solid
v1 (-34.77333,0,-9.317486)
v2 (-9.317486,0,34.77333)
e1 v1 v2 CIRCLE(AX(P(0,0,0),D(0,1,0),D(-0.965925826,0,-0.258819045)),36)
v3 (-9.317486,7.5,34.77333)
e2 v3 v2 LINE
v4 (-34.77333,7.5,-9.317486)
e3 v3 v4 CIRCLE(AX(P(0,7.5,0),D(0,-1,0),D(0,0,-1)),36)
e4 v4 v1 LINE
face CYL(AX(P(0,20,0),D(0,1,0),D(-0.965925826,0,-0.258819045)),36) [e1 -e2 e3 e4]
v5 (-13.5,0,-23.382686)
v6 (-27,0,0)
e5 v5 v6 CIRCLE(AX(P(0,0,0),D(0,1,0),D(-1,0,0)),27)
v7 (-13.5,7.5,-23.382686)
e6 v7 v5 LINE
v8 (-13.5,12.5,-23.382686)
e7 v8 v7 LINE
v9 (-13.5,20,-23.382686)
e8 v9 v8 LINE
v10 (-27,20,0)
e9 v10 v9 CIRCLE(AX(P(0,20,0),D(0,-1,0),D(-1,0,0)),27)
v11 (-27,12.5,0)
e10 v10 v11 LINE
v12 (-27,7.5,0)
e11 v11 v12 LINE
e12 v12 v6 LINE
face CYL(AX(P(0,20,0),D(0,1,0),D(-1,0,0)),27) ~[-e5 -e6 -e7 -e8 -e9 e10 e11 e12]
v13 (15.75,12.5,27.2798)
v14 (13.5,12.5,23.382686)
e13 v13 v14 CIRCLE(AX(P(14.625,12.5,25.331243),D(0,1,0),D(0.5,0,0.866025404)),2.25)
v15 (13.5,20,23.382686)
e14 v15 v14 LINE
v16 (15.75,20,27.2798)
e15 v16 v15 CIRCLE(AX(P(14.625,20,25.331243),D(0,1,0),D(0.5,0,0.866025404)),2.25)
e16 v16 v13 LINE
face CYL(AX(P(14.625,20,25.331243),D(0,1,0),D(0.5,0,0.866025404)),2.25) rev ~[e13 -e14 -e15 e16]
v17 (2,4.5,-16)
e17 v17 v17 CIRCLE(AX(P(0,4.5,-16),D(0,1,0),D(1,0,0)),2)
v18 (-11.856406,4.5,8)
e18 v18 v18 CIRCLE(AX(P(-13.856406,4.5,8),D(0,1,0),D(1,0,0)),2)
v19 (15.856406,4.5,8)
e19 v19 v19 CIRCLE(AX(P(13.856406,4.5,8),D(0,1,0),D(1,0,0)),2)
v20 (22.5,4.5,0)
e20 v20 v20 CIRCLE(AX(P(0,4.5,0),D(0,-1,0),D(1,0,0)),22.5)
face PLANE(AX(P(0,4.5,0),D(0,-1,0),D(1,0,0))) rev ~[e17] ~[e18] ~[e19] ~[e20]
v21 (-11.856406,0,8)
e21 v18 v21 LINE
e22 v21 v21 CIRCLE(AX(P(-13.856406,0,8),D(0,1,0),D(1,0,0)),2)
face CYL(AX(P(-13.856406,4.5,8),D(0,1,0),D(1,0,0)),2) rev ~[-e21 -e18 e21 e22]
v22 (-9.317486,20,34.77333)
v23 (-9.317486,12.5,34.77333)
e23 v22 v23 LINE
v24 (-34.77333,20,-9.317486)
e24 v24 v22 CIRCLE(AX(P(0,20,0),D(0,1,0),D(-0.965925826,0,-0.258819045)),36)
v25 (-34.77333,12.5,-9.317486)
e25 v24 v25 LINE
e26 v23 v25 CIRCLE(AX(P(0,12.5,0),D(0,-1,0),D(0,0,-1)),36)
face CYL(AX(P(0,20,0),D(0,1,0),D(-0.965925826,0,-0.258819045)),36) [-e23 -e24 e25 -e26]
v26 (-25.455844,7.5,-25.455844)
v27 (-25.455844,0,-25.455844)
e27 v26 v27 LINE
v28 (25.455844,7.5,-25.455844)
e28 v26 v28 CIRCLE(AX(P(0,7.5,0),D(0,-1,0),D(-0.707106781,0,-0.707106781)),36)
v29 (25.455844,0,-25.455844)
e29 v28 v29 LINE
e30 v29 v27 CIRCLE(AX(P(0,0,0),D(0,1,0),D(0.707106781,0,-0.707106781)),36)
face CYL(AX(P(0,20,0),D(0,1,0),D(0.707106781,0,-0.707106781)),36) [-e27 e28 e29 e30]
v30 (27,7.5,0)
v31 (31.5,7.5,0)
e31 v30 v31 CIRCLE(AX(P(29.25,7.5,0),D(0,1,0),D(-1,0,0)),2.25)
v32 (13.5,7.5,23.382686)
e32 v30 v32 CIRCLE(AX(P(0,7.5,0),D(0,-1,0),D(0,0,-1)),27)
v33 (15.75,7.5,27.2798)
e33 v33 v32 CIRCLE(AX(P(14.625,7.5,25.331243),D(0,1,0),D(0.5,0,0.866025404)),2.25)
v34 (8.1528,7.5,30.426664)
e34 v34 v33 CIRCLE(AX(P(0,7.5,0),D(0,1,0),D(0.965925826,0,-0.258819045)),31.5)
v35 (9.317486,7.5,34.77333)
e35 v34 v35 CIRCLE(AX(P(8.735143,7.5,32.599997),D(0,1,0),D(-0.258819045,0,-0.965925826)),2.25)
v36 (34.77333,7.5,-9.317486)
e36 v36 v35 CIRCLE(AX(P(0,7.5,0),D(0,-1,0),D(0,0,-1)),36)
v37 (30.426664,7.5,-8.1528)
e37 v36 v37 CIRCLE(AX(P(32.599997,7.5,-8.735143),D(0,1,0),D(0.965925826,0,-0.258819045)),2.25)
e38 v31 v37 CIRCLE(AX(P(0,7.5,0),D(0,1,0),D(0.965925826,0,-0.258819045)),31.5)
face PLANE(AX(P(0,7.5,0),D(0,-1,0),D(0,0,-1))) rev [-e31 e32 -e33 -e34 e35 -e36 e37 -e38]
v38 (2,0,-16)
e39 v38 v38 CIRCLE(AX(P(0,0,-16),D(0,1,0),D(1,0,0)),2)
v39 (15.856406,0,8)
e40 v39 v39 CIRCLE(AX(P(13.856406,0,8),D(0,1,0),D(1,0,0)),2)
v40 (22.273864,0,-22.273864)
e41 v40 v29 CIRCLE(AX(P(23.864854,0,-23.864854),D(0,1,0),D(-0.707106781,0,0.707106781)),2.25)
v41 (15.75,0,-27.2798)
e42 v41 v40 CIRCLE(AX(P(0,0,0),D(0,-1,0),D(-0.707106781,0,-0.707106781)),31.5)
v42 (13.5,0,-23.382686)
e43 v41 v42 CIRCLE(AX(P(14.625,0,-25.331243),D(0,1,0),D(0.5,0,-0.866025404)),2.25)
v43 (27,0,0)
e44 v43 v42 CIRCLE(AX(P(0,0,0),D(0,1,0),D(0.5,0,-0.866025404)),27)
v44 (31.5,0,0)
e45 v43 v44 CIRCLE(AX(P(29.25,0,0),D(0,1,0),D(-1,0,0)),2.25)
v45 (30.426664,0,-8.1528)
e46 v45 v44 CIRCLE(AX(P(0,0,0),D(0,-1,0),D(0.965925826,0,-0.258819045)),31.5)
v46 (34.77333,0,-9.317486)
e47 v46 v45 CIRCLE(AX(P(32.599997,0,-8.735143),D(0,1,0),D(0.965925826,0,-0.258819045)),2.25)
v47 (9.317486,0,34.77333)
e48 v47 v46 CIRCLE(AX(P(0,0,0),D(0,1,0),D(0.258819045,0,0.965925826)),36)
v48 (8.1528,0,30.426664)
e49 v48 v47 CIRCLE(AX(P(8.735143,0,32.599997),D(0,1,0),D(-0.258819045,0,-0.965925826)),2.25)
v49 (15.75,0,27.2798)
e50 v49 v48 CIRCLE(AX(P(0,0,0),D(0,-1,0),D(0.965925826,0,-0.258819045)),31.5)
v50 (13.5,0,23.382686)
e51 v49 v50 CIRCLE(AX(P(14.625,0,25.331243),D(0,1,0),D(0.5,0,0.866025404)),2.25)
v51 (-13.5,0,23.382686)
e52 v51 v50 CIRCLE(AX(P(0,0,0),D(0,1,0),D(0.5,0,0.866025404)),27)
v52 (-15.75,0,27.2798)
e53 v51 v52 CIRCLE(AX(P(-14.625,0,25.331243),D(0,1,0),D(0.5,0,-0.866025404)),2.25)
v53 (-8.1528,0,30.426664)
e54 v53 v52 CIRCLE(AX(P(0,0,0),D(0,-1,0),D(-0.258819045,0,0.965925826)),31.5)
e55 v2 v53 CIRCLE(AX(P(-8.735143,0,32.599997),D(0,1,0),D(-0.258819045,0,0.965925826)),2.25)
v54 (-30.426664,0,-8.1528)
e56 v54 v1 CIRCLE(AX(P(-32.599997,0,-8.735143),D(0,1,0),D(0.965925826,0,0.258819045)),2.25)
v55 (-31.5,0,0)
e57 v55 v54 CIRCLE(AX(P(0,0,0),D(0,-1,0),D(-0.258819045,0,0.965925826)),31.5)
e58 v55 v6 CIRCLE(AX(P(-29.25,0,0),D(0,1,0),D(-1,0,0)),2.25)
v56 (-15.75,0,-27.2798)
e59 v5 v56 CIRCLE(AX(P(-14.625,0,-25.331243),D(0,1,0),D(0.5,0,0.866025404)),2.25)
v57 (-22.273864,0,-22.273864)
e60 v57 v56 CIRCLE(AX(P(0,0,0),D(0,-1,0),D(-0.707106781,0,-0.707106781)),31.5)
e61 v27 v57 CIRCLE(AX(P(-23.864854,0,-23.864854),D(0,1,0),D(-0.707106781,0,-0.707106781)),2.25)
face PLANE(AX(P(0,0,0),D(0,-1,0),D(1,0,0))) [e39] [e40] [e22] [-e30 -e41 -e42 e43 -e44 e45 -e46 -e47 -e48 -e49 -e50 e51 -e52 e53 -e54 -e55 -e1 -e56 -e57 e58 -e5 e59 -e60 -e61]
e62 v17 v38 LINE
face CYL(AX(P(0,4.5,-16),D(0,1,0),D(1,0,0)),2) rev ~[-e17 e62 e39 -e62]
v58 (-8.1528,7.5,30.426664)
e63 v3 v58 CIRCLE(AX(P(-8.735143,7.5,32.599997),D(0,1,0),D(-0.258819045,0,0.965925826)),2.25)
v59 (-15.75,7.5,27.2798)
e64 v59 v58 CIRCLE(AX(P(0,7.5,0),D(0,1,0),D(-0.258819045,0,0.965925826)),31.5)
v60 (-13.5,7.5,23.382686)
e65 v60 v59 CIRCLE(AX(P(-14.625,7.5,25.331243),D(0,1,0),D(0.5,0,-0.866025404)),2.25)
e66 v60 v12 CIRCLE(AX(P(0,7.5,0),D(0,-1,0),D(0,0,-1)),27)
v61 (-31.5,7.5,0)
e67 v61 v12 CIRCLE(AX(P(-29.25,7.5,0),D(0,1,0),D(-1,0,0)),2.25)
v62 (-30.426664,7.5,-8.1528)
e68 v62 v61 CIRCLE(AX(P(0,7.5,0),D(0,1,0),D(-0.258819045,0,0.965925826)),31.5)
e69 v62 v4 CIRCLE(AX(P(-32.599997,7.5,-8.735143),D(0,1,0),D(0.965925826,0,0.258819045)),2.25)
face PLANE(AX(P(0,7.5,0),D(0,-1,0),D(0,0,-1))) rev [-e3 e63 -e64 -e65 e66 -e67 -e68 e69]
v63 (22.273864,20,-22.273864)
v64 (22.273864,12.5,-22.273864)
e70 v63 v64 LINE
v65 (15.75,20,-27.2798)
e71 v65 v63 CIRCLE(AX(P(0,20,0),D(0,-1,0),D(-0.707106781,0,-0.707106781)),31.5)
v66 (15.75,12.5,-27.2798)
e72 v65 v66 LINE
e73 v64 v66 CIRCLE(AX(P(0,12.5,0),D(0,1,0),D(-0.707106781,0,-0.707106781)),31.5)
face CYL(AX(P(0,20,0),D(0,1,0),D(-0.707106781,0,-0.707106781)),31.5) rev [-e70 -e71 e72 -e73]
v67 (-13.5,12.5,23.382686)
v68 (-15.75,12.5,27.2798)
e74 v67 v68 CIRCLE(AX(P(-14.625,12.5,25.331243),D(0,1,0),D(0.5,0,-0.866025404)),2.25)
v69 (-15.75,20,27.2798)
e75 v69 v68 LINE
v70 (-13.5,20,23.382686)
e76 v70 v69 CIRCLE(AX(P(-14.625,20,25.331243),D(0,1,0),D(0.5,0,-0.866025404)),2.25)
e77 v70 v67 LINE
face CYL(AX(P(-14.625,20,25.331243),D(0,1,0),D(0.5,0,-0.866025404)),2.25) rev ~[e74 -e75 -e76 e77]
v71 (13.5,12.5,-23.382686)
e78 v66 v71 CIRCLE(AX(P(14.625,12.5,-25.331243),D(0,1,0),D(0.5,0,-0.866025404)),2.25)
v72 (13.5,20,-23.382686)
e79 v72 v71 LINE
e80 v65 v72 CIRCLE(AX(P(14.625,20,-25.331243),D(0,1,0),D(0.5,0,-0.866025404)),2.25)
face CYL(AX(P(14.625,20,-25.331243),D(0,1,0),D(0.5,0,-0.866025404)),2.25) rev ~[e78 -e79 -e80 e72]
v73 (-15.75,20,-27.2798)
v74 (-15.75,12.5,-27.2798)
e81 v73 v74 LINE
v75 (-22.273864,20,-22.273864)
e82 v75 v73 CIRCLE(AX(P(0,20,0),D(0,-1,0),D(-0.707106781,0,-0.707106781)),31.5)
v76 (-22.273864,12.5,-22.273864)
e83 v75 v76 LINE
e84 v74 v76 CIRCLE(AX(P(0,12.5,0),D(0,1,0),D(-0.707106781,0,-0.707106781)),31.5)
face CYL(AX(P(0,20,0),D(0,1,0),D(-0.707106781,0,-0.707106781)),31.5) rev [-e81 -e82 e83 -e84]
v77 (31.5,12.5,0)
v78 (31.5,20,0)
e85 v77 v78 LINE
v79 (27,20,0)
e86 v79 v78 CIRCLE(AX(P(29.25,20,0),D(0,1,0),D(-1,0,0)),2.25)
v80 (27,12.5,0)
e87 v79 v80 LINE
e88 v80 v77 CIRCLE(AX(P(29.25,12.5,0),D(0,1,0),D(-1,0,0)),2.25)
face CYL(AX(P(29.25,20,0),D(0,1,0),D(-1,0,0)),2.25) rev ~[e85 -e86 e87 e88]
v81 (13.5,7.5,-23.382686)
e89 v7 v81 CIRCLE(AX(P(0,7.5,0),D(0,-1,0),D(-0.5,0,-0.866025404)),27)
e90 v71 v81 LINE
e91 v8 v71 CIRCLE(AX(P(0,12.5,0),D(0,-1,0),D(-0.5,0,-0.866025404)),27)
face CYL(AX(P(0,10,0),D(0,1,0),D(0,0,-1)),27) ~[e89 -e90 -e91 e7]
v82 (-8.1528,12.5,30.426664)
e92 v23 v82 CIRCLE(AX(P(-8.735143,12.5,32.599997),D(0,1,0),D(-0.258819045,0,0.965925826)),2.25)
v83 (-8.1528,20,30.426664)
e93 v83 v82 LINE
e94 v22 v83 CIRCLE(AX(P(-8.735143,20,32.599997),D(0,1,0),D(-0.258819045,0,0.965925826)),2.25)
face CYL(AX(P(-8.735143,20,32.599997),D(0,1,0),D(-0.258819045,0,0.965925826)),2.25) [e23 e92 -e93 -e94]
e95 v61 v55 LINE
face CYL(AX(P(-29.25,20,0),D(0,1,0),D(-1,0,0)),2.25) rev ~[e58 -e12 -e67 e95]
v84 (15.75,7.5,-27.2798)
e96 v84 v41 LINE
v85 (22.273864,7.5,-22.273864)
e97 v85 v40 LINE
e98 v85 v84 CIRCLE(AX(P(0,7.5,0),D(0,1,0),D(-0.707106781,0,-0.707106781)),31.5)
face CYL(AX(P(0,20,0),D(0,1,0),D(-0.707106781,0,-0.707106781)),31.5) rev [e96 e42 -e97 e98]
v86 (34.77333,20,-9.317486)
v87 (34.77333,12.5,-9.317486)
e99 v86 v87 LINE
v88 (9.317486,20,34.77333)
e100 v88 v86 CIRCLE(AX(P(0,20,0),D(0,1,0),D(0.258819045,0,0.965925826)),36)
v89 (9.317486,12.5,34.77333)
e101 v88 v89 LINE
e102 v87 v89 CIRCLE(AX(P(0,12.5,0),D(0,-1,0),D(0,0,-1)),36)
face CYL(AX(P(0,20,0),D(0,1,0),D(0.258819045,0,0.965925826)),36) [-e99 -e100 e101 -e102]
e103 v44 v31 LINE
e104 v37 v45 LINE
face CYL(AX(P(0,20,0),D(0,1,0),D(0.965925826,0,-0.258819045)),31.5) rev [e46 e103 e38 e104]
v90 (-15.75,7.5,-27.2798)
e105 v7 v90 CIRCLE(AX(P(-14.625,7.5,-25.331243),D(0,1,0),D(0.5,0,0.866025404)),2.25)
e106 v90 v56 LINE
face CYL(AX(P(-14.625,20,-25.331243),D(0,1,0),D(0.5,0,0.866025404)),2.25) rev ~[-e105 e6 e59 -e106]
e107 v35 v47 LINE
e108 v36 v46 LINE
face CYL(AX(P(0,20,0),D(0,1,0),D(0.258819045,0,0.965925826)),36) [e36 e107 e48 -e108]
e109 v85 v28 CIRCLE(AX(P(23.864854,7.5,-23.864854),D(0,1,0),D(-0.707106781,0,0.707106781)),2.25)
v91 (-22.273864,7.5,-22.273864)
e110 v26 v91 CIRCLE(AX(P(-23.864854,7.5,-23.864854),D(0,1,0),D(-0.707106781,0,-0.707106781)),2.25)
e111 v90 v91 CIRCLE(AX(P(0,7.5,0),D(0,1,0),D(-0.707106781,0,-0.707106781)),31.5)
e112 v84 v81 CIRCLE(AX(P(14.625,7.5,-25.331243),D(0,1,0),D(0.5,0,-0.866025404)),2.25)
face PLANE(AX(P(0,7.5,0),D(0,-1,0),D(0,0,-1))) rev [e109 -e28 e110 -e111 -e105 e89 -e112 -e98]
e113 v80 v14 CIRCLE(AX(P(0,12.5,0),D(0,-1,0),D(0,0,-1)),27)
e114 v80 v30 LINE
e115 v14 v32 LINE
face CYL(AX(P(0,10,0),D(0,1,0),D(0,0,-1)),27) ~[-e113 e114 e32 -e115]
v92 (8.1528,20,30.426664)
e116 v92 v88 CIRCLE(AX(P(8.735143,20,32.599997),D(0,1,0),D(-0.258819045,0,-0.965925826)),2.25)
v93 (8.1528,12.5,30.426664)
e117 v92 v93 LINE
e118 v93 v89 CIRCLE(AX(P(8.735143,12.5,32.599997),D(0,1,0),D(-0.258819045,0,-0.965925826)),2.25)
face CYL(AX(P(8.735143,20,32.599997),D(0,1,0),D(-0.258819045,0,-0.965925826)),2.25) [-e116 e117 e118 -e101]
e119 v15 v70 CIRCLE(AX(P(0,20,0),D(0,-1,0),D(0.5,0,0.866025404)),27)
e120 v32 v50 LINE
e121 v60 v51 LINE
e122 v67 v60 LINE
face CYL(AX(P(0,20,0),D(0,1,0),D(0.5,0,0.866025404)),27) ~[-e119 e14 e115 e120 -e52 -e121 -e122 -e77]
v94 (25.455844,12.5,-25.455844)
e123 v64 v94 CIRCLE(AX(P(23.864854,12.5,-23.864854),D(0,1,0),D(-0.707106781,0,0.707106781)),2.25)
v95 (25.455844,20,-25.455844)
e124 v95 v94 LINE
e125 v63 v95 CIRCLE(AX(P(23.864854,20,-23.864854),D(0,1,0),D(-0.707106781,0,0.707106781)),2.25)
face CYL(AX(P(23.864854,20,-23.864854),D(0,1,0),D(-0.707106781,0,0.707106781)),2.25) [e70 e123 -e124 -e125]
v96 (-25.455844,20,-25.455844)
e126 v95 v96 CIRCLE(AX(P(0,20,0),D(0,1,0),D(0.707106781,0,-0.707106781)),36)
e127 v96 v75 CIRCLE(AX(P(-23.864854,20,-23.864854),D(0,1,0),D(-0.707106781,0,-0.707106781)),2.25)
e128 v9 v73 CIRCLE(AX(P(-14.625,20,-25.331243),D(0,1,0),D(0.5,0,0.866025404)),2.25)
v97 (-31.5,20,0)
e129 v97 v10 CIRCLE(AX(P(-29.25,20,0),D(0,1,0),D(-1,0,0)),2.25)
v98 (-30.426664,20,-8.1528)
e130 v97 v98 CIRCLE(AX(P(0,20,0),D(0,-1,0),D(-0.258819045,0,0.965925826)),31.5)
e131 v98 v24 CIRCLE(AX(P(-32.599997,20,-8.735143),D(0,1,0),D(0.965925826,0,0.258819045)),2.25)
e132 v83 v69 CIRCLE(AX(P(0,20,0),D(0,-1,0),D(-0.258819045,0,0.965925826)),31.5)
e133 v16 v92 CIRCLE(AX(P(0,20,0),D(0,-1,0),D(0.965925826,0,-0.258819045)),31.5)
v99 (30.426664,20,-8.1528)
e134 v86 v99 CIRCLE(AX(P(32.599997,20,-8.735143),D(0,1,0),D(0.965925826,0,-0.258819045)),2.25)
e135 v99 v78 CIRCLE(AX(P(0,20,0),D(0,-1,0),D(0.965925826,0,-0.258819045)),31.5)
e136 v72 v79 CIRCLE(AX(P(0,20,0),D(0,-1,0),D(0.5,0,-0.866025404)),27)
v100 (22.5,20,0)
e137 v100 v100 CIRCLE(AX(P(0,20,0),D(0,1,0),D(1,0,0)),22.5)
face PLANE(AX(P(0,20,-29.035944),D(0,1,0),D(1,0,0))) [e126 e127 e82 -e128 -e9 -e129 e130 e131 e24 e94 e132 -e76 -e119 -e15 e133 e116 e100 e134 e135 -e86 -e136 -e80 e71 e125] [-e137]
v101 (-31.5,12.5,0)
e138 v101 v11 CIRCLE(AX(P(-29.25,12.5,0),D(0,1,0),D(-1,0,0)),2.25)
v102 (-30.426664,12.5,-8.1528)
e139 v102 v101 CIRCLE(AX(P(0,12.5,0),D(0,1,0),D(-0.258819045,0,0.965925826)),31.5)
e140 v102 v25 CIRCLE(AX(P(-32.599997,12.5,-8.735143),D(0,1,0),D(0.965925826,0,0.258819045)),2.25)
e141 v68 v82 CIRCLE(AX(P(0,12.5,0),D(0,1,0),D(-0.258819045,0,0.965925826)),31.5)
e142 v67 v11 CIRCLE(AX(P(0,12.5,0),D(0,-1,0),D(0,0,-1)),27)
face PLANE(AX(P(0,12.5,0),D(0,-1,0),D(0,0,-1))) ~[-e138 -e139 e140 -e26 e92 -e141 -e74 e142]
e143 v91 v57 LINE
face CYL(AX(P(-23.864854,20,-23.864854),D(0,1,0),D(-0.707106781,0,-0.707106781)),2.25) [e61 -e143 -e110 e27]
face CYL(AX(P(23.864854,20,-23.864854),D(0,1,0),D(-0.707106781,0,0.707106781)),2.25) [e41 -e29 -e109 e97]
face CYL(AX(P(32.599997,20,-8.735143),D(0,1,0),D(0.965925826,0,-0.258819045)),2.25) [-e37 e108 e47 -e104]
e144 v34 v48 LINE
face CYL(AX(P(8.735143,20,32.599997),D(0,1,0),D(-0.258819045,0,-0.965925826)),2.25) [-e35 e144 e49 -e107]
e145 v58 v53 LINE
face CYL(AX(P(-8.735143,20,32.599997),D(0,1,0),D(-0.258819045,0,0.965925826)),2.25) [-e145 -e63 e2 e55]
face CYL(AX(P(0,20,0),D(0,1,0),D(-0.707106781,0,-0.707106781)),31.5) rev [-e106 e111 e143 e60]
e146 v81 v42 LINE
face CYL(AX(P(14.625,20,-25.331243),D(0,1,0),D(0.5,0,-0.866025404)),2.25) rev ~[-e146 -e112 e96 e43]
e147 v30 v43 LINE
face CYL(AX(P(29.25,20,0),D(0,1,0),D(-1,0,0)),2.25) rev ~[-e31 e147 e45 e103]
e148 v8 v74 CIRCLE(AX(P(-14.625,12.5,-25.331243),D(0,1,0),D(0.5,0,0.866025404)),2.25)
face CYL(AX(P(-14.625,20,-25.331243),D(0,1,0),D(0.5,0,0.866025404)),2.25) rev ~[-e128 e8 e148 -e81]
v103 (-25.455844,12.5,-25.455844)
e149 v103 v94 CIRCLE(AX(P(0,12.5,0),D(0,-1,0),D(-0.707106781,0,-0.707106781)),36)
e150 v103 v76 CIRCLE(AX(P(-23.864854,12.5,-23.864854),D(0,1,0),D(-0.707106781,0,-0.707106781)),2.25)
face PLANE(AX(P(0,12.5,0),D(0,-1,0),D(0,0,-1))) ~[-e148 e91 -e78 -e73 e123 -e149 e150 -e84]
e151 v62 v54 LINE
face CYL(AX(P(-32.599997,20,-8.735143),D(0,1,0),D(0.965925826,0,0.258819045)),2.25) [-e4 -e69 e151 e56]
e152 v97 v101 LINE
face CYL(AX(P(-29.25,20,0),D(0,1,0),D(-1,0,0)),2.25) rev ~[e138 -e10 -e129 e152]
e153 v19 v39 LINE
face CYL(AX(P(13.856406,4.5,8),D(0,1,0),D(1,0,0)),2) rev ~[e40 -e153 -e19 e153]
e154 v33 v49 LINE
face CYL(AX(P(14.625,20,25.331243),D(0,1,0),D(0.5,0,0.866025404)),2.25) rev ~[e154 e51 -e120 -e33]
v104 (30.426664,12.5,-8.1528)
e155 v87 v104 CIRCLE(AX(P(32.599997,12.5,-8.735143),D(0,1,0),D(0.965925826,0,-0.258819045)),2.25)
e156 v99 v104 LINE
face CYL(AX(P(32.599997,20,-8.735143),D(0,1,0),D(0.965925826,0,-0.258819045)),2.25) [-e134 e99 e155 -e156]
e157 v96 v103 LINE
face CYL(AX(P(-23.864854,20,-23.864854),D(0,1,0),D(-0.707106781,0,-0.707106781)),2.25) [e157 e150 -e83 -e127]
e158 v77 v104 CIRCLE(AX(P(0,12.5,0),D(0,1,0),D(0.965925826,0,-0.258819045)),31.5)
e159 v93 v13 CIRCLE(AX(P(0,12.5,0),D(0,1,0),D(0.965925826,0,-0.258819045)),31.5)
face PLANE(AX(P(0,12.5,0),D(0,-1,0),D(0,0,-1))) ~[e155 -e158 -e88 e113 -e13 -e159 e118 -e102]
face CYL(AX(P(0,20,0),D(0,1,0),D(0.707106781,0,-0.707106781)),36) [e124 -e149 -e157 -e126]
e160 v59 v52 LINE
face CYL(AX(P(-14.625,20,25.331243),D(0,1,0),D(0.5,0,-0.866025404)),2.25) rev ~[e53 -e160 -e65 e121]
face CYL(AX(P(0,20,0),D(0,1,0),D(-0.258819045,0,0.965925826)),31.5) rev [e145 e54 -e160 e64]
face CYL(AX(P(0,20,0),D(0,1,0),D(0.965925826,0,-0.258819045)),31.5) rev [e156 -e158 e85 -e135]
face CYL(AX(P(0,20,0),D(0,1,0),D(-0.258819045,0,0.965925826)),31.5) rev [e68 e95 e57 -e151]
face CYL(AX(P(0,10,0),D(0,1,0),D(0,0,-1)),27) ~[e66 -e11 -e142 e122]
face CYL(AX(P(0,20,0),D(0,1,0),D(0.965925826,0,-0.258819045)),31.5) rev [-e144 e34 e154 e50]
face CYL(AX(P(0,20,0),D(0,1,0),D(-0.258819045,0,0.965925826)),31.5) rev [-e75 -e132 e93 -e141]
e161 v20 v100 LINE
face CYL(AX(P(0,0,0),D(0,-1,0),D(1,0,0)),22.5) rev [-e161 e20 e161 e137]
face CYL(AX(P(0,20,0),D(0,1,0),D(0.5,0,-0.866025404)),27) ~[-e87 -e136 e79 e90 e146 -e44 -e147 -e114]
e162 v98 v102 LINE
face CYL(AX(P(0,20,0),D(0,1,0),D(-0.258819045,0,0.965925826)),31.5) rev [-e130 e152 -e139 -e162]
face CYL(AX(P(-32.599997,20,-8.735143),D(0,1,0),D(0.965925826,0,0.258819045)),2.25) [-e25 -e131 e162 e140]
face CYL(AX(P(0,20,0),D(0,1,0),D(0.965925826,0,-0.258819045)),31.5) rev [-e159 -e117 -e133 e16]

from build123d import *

# Parameters (mm, degrees)
ESQUISSE1_R             = 31.5
ESQUISSE1_R_2           = 22.5
BOSS_EXTRU_1_DEPTH      = 20
ENL_V_MAT_EXTRU_1_DEPTH = 21
BOSS_EXTRU_2_DEPTH      = 20
ESQUISSE4_R             = 22.5
BOSS_EXTRU_3_DEPTH      = 4.5
ENL_V_MAT_EXTRU_2_REACH = 6.5
ESQUISSE5_R             = 2
ESQUISSE6_W             = 9
ESQUISSE6_H             = 5


with BuildPart() as part:
    # Esquisse1 → Boss.-Extru.1 (new body)
    with BuildSketch(Plane(origin=(0, 0, 0), x_dir=(1, 0, 0), z_dir=(0, 1, 0))):
        Circle(ESQUISSE1_R)
        Circle(ESQUISSE1_R_2, mode=Mode.SUBTRACT)
    extrude(amount=BOSS_EXTRU_1_DEPTH)

    # Esquisse2 → Enlèv. mat.-Extru.1 (cut, through all)
    with BuildSketch(Plane(origin=(0, 20, 0), x_dir=(1, 0, 0), z_dir=(0, 1, 0))):
        with BuildLine():
            ThreePointArc((-15.75, 27.279800219), (-27.279800219, 15.75), (-31.5, 0))
            ThreePointArc((-31.5, 0), (-29.25, -2.25), (-27, 0))
            ThreePointArc((-27, 0), (-23.382685902, 13.5), (-13.5, 23.382685902))
            ThreePointArc((-13.5, 23.382685902), (-12.676442841, 26.456243061), (-15.75, 27.279800219))
        make_face()
        with BuildLine():
            ThreePointArc((31.5, 0), (27.279800219, 15.75), (15.75, 27.279800219))
            ThreePointArc((15.75, 27.279800219), (12.676442841, 26.456243061), (13.5, 23.382685902))
            ThreePointArc((13.5, 23.382685902), (23.382685902, 13.5), (27, 0))
            ThreePointArc((27, 0), (29.25, -2.25), (31.5, 0))
        make_face()
        with BuildLine():
            ThreePointArc((-15.75, -27.279800219), (0, -31.5), (15.75, -27.279800219))
            ThreePointArc((15.75, -27.279800219), (16.573557159, -24.206243061), (13.5, -23.382685902))
            ThreePointArc((13.5, -23.382685902), (0, -27), (-13.5, -23.382685902))
            ThreePointArc((-13.5, -23.382685902), (-16.573557159, -24.206243061), (-15.75, -27.279800219))
        make_face()
    extrude(amount=-ENL_V_MAT_EXTRU_1_DEPTH, mode=Mode.SUBTRACT)

    # Esquisse3 → Boss.-Extru.2 (add)
    with BuildSketch(Plane(origin=(0, 20, 0), x_dir=(1, 0, 0), z_dir=(0, 1, 0))):
        with BuildLine():
            ThreePointArc((25.455844123, 25.455844123), (0, 36), (-25.455844123, 25.455844123))
            ThreePointArc((-25.455844123, 25.455844123), (-25.455844123, 22.273863607), (-22.273863607, 22.273863607))
            ThreePointArc((-22.273863607, 22.273863607), (0, 31.5), (22.273863607, 22.273863607))
            ThreePointArc((22.273863607, 22.273863607), (25.455844123, 22.273863607), (25.455844123, 25.455844123))
        make_face()
        with BuildLine():
            ThreePointArc((9.317485624, -34.773329746), (31.176914536, -18), (34.773329746, 9.317485624))
            ThreePointArc((34.773329746, 9.317485624), (32.017653786, 10.908475881), (30.426663528, 8.152799921))
            ThreePointArc((30.426663528, 8.152799921), (27.279800219, -15.75), (8.152799921, -30.426663528))
            ThreePointArc((8.152799921, -30.426663528), (6.561809663, -33.182339489), (9.317485624, -34.773329746))
        make_face()
        with BuildLine():
            ThreePointArc((-34.773329746, 9.317485624), (-31.176914536, -18), (-9.317485624, -34.773329746))
            ThreePointArc((-9.317485624, -34.773329746), (-6.561809663, -33.182339489), (-8.152799921, -30.426663528))
            ThreePointArc((-8.152799921, -30.426663528), (-27.279800219, -15.75), (-30.426663528, 8.152799921))
            ThreePointArc((-30.426663528, 8.152799921), (-32.017653786, 10.908475881), (-34.773329746, 9.317485624))
        make_face()
    extrude(amount=-BOSS_EXTRU_2_DEPTH)

    # Esquisse4 → Boss.-Extru.3 (add)
    with BuildSketch(Plane.XZ):
        Circle(ESQUISSE4_R)
    extrude(amount=-BOSS_EXTRU_3_DEPTH)

    # Esquisse5 → Enlèv. mat.-Extru.2 (cut, up to next)
    with BuildSketch(Plane(origin=(0, 4.5, 0), x_dir=(1, 0, 0), z_dir=(0, 1, 0)), mode=Mode.PRIVATE) as enl_v_mat_extru_2_sk1:
        with Locations((0, 16)):
            Circle(ESQUISSE5_R)
    enl_v_mat_extru_2_tool1 = extrude(enl_v_mat_extru_2_sk1.sketch, amount=-ENL_V_MAT_EXTRU_2_REACH, mode=Mode.PRIVATE) & part.part
    add(enl_v_mat_extru_2_tool1.solids().sort_by_distance((0, 4.5, -16))[0], mode=Mode.SUBTRACT)
    # Esquisse5 → Enlèv. mat.-Extru.2 (cut, up to next)
    with BuildSketch(Plane(origin=(0, 4.5, 0), x_dir=(1, 0, 0), z_dir=(0, 1, 0)), mode=Mode.PRIVATE) as enl_v_mat_extru_2_sk2:
        with Locations((13.856406461, -8)):
            Circle(ESQUISSE5_R)
    enl_v_mat_extru_2_tool2 = extrude(enl_v_mat_extru_2_sk2.sketch, amount=-ENL_V_MAT_EXTRU_2_REACH, mode=Mode.PRIVATE) & part.part
    add(enl_v_mat_extru_2_tool2.solids().sort_by_distance((13.856406, 4.5, 8))[0], mode=Mode.SUBTRACT)
    # Esquisse5 → Enlèv. mat.-Extru.2 (cut, up to next)
    with BuildSketch(Plane(origin=(0, 4.5, 0), x_dir=(1, 0, 0), z_dir=(0, 1, 0)), mode=Mode.PRIVATE) as enl_v_mat_extru_2_sk3:
        with Locations((-13.856406461, -8)):
            Circle(ESQUISSE5_R)
    enl_v_mat_extru_2_tool3 = extrude(enl_v_mat_extru_2_sk3.sketch, amount=-ENL_V_MAT_EXTRU_2_REACH, mode=Mode.PRIVATE) & part.part
    add(enl_v_mat_extru_2_tool3.solids().sort_by_distance((-13.856406, 4.5, 8))[0], mode=Mode.SUBTRACT)

    # Esquisse6 → Enlèvement de matière-Révolution1 (revolve, cut)
    with BuildSketch(Plane(origin=(0, 0, 0), x_dir=(0, 0, -1), z_dir=(1, 0, 0))):
        with Locations((31.5, 10)):
            Rectangle(ESQUISSE6_W, ESQUISSE6_H)
    revolve(axis=Axis((0, 10, 0), (0, -1, 0)), mode=Mode.SUBTRACT)


solid = part.part
